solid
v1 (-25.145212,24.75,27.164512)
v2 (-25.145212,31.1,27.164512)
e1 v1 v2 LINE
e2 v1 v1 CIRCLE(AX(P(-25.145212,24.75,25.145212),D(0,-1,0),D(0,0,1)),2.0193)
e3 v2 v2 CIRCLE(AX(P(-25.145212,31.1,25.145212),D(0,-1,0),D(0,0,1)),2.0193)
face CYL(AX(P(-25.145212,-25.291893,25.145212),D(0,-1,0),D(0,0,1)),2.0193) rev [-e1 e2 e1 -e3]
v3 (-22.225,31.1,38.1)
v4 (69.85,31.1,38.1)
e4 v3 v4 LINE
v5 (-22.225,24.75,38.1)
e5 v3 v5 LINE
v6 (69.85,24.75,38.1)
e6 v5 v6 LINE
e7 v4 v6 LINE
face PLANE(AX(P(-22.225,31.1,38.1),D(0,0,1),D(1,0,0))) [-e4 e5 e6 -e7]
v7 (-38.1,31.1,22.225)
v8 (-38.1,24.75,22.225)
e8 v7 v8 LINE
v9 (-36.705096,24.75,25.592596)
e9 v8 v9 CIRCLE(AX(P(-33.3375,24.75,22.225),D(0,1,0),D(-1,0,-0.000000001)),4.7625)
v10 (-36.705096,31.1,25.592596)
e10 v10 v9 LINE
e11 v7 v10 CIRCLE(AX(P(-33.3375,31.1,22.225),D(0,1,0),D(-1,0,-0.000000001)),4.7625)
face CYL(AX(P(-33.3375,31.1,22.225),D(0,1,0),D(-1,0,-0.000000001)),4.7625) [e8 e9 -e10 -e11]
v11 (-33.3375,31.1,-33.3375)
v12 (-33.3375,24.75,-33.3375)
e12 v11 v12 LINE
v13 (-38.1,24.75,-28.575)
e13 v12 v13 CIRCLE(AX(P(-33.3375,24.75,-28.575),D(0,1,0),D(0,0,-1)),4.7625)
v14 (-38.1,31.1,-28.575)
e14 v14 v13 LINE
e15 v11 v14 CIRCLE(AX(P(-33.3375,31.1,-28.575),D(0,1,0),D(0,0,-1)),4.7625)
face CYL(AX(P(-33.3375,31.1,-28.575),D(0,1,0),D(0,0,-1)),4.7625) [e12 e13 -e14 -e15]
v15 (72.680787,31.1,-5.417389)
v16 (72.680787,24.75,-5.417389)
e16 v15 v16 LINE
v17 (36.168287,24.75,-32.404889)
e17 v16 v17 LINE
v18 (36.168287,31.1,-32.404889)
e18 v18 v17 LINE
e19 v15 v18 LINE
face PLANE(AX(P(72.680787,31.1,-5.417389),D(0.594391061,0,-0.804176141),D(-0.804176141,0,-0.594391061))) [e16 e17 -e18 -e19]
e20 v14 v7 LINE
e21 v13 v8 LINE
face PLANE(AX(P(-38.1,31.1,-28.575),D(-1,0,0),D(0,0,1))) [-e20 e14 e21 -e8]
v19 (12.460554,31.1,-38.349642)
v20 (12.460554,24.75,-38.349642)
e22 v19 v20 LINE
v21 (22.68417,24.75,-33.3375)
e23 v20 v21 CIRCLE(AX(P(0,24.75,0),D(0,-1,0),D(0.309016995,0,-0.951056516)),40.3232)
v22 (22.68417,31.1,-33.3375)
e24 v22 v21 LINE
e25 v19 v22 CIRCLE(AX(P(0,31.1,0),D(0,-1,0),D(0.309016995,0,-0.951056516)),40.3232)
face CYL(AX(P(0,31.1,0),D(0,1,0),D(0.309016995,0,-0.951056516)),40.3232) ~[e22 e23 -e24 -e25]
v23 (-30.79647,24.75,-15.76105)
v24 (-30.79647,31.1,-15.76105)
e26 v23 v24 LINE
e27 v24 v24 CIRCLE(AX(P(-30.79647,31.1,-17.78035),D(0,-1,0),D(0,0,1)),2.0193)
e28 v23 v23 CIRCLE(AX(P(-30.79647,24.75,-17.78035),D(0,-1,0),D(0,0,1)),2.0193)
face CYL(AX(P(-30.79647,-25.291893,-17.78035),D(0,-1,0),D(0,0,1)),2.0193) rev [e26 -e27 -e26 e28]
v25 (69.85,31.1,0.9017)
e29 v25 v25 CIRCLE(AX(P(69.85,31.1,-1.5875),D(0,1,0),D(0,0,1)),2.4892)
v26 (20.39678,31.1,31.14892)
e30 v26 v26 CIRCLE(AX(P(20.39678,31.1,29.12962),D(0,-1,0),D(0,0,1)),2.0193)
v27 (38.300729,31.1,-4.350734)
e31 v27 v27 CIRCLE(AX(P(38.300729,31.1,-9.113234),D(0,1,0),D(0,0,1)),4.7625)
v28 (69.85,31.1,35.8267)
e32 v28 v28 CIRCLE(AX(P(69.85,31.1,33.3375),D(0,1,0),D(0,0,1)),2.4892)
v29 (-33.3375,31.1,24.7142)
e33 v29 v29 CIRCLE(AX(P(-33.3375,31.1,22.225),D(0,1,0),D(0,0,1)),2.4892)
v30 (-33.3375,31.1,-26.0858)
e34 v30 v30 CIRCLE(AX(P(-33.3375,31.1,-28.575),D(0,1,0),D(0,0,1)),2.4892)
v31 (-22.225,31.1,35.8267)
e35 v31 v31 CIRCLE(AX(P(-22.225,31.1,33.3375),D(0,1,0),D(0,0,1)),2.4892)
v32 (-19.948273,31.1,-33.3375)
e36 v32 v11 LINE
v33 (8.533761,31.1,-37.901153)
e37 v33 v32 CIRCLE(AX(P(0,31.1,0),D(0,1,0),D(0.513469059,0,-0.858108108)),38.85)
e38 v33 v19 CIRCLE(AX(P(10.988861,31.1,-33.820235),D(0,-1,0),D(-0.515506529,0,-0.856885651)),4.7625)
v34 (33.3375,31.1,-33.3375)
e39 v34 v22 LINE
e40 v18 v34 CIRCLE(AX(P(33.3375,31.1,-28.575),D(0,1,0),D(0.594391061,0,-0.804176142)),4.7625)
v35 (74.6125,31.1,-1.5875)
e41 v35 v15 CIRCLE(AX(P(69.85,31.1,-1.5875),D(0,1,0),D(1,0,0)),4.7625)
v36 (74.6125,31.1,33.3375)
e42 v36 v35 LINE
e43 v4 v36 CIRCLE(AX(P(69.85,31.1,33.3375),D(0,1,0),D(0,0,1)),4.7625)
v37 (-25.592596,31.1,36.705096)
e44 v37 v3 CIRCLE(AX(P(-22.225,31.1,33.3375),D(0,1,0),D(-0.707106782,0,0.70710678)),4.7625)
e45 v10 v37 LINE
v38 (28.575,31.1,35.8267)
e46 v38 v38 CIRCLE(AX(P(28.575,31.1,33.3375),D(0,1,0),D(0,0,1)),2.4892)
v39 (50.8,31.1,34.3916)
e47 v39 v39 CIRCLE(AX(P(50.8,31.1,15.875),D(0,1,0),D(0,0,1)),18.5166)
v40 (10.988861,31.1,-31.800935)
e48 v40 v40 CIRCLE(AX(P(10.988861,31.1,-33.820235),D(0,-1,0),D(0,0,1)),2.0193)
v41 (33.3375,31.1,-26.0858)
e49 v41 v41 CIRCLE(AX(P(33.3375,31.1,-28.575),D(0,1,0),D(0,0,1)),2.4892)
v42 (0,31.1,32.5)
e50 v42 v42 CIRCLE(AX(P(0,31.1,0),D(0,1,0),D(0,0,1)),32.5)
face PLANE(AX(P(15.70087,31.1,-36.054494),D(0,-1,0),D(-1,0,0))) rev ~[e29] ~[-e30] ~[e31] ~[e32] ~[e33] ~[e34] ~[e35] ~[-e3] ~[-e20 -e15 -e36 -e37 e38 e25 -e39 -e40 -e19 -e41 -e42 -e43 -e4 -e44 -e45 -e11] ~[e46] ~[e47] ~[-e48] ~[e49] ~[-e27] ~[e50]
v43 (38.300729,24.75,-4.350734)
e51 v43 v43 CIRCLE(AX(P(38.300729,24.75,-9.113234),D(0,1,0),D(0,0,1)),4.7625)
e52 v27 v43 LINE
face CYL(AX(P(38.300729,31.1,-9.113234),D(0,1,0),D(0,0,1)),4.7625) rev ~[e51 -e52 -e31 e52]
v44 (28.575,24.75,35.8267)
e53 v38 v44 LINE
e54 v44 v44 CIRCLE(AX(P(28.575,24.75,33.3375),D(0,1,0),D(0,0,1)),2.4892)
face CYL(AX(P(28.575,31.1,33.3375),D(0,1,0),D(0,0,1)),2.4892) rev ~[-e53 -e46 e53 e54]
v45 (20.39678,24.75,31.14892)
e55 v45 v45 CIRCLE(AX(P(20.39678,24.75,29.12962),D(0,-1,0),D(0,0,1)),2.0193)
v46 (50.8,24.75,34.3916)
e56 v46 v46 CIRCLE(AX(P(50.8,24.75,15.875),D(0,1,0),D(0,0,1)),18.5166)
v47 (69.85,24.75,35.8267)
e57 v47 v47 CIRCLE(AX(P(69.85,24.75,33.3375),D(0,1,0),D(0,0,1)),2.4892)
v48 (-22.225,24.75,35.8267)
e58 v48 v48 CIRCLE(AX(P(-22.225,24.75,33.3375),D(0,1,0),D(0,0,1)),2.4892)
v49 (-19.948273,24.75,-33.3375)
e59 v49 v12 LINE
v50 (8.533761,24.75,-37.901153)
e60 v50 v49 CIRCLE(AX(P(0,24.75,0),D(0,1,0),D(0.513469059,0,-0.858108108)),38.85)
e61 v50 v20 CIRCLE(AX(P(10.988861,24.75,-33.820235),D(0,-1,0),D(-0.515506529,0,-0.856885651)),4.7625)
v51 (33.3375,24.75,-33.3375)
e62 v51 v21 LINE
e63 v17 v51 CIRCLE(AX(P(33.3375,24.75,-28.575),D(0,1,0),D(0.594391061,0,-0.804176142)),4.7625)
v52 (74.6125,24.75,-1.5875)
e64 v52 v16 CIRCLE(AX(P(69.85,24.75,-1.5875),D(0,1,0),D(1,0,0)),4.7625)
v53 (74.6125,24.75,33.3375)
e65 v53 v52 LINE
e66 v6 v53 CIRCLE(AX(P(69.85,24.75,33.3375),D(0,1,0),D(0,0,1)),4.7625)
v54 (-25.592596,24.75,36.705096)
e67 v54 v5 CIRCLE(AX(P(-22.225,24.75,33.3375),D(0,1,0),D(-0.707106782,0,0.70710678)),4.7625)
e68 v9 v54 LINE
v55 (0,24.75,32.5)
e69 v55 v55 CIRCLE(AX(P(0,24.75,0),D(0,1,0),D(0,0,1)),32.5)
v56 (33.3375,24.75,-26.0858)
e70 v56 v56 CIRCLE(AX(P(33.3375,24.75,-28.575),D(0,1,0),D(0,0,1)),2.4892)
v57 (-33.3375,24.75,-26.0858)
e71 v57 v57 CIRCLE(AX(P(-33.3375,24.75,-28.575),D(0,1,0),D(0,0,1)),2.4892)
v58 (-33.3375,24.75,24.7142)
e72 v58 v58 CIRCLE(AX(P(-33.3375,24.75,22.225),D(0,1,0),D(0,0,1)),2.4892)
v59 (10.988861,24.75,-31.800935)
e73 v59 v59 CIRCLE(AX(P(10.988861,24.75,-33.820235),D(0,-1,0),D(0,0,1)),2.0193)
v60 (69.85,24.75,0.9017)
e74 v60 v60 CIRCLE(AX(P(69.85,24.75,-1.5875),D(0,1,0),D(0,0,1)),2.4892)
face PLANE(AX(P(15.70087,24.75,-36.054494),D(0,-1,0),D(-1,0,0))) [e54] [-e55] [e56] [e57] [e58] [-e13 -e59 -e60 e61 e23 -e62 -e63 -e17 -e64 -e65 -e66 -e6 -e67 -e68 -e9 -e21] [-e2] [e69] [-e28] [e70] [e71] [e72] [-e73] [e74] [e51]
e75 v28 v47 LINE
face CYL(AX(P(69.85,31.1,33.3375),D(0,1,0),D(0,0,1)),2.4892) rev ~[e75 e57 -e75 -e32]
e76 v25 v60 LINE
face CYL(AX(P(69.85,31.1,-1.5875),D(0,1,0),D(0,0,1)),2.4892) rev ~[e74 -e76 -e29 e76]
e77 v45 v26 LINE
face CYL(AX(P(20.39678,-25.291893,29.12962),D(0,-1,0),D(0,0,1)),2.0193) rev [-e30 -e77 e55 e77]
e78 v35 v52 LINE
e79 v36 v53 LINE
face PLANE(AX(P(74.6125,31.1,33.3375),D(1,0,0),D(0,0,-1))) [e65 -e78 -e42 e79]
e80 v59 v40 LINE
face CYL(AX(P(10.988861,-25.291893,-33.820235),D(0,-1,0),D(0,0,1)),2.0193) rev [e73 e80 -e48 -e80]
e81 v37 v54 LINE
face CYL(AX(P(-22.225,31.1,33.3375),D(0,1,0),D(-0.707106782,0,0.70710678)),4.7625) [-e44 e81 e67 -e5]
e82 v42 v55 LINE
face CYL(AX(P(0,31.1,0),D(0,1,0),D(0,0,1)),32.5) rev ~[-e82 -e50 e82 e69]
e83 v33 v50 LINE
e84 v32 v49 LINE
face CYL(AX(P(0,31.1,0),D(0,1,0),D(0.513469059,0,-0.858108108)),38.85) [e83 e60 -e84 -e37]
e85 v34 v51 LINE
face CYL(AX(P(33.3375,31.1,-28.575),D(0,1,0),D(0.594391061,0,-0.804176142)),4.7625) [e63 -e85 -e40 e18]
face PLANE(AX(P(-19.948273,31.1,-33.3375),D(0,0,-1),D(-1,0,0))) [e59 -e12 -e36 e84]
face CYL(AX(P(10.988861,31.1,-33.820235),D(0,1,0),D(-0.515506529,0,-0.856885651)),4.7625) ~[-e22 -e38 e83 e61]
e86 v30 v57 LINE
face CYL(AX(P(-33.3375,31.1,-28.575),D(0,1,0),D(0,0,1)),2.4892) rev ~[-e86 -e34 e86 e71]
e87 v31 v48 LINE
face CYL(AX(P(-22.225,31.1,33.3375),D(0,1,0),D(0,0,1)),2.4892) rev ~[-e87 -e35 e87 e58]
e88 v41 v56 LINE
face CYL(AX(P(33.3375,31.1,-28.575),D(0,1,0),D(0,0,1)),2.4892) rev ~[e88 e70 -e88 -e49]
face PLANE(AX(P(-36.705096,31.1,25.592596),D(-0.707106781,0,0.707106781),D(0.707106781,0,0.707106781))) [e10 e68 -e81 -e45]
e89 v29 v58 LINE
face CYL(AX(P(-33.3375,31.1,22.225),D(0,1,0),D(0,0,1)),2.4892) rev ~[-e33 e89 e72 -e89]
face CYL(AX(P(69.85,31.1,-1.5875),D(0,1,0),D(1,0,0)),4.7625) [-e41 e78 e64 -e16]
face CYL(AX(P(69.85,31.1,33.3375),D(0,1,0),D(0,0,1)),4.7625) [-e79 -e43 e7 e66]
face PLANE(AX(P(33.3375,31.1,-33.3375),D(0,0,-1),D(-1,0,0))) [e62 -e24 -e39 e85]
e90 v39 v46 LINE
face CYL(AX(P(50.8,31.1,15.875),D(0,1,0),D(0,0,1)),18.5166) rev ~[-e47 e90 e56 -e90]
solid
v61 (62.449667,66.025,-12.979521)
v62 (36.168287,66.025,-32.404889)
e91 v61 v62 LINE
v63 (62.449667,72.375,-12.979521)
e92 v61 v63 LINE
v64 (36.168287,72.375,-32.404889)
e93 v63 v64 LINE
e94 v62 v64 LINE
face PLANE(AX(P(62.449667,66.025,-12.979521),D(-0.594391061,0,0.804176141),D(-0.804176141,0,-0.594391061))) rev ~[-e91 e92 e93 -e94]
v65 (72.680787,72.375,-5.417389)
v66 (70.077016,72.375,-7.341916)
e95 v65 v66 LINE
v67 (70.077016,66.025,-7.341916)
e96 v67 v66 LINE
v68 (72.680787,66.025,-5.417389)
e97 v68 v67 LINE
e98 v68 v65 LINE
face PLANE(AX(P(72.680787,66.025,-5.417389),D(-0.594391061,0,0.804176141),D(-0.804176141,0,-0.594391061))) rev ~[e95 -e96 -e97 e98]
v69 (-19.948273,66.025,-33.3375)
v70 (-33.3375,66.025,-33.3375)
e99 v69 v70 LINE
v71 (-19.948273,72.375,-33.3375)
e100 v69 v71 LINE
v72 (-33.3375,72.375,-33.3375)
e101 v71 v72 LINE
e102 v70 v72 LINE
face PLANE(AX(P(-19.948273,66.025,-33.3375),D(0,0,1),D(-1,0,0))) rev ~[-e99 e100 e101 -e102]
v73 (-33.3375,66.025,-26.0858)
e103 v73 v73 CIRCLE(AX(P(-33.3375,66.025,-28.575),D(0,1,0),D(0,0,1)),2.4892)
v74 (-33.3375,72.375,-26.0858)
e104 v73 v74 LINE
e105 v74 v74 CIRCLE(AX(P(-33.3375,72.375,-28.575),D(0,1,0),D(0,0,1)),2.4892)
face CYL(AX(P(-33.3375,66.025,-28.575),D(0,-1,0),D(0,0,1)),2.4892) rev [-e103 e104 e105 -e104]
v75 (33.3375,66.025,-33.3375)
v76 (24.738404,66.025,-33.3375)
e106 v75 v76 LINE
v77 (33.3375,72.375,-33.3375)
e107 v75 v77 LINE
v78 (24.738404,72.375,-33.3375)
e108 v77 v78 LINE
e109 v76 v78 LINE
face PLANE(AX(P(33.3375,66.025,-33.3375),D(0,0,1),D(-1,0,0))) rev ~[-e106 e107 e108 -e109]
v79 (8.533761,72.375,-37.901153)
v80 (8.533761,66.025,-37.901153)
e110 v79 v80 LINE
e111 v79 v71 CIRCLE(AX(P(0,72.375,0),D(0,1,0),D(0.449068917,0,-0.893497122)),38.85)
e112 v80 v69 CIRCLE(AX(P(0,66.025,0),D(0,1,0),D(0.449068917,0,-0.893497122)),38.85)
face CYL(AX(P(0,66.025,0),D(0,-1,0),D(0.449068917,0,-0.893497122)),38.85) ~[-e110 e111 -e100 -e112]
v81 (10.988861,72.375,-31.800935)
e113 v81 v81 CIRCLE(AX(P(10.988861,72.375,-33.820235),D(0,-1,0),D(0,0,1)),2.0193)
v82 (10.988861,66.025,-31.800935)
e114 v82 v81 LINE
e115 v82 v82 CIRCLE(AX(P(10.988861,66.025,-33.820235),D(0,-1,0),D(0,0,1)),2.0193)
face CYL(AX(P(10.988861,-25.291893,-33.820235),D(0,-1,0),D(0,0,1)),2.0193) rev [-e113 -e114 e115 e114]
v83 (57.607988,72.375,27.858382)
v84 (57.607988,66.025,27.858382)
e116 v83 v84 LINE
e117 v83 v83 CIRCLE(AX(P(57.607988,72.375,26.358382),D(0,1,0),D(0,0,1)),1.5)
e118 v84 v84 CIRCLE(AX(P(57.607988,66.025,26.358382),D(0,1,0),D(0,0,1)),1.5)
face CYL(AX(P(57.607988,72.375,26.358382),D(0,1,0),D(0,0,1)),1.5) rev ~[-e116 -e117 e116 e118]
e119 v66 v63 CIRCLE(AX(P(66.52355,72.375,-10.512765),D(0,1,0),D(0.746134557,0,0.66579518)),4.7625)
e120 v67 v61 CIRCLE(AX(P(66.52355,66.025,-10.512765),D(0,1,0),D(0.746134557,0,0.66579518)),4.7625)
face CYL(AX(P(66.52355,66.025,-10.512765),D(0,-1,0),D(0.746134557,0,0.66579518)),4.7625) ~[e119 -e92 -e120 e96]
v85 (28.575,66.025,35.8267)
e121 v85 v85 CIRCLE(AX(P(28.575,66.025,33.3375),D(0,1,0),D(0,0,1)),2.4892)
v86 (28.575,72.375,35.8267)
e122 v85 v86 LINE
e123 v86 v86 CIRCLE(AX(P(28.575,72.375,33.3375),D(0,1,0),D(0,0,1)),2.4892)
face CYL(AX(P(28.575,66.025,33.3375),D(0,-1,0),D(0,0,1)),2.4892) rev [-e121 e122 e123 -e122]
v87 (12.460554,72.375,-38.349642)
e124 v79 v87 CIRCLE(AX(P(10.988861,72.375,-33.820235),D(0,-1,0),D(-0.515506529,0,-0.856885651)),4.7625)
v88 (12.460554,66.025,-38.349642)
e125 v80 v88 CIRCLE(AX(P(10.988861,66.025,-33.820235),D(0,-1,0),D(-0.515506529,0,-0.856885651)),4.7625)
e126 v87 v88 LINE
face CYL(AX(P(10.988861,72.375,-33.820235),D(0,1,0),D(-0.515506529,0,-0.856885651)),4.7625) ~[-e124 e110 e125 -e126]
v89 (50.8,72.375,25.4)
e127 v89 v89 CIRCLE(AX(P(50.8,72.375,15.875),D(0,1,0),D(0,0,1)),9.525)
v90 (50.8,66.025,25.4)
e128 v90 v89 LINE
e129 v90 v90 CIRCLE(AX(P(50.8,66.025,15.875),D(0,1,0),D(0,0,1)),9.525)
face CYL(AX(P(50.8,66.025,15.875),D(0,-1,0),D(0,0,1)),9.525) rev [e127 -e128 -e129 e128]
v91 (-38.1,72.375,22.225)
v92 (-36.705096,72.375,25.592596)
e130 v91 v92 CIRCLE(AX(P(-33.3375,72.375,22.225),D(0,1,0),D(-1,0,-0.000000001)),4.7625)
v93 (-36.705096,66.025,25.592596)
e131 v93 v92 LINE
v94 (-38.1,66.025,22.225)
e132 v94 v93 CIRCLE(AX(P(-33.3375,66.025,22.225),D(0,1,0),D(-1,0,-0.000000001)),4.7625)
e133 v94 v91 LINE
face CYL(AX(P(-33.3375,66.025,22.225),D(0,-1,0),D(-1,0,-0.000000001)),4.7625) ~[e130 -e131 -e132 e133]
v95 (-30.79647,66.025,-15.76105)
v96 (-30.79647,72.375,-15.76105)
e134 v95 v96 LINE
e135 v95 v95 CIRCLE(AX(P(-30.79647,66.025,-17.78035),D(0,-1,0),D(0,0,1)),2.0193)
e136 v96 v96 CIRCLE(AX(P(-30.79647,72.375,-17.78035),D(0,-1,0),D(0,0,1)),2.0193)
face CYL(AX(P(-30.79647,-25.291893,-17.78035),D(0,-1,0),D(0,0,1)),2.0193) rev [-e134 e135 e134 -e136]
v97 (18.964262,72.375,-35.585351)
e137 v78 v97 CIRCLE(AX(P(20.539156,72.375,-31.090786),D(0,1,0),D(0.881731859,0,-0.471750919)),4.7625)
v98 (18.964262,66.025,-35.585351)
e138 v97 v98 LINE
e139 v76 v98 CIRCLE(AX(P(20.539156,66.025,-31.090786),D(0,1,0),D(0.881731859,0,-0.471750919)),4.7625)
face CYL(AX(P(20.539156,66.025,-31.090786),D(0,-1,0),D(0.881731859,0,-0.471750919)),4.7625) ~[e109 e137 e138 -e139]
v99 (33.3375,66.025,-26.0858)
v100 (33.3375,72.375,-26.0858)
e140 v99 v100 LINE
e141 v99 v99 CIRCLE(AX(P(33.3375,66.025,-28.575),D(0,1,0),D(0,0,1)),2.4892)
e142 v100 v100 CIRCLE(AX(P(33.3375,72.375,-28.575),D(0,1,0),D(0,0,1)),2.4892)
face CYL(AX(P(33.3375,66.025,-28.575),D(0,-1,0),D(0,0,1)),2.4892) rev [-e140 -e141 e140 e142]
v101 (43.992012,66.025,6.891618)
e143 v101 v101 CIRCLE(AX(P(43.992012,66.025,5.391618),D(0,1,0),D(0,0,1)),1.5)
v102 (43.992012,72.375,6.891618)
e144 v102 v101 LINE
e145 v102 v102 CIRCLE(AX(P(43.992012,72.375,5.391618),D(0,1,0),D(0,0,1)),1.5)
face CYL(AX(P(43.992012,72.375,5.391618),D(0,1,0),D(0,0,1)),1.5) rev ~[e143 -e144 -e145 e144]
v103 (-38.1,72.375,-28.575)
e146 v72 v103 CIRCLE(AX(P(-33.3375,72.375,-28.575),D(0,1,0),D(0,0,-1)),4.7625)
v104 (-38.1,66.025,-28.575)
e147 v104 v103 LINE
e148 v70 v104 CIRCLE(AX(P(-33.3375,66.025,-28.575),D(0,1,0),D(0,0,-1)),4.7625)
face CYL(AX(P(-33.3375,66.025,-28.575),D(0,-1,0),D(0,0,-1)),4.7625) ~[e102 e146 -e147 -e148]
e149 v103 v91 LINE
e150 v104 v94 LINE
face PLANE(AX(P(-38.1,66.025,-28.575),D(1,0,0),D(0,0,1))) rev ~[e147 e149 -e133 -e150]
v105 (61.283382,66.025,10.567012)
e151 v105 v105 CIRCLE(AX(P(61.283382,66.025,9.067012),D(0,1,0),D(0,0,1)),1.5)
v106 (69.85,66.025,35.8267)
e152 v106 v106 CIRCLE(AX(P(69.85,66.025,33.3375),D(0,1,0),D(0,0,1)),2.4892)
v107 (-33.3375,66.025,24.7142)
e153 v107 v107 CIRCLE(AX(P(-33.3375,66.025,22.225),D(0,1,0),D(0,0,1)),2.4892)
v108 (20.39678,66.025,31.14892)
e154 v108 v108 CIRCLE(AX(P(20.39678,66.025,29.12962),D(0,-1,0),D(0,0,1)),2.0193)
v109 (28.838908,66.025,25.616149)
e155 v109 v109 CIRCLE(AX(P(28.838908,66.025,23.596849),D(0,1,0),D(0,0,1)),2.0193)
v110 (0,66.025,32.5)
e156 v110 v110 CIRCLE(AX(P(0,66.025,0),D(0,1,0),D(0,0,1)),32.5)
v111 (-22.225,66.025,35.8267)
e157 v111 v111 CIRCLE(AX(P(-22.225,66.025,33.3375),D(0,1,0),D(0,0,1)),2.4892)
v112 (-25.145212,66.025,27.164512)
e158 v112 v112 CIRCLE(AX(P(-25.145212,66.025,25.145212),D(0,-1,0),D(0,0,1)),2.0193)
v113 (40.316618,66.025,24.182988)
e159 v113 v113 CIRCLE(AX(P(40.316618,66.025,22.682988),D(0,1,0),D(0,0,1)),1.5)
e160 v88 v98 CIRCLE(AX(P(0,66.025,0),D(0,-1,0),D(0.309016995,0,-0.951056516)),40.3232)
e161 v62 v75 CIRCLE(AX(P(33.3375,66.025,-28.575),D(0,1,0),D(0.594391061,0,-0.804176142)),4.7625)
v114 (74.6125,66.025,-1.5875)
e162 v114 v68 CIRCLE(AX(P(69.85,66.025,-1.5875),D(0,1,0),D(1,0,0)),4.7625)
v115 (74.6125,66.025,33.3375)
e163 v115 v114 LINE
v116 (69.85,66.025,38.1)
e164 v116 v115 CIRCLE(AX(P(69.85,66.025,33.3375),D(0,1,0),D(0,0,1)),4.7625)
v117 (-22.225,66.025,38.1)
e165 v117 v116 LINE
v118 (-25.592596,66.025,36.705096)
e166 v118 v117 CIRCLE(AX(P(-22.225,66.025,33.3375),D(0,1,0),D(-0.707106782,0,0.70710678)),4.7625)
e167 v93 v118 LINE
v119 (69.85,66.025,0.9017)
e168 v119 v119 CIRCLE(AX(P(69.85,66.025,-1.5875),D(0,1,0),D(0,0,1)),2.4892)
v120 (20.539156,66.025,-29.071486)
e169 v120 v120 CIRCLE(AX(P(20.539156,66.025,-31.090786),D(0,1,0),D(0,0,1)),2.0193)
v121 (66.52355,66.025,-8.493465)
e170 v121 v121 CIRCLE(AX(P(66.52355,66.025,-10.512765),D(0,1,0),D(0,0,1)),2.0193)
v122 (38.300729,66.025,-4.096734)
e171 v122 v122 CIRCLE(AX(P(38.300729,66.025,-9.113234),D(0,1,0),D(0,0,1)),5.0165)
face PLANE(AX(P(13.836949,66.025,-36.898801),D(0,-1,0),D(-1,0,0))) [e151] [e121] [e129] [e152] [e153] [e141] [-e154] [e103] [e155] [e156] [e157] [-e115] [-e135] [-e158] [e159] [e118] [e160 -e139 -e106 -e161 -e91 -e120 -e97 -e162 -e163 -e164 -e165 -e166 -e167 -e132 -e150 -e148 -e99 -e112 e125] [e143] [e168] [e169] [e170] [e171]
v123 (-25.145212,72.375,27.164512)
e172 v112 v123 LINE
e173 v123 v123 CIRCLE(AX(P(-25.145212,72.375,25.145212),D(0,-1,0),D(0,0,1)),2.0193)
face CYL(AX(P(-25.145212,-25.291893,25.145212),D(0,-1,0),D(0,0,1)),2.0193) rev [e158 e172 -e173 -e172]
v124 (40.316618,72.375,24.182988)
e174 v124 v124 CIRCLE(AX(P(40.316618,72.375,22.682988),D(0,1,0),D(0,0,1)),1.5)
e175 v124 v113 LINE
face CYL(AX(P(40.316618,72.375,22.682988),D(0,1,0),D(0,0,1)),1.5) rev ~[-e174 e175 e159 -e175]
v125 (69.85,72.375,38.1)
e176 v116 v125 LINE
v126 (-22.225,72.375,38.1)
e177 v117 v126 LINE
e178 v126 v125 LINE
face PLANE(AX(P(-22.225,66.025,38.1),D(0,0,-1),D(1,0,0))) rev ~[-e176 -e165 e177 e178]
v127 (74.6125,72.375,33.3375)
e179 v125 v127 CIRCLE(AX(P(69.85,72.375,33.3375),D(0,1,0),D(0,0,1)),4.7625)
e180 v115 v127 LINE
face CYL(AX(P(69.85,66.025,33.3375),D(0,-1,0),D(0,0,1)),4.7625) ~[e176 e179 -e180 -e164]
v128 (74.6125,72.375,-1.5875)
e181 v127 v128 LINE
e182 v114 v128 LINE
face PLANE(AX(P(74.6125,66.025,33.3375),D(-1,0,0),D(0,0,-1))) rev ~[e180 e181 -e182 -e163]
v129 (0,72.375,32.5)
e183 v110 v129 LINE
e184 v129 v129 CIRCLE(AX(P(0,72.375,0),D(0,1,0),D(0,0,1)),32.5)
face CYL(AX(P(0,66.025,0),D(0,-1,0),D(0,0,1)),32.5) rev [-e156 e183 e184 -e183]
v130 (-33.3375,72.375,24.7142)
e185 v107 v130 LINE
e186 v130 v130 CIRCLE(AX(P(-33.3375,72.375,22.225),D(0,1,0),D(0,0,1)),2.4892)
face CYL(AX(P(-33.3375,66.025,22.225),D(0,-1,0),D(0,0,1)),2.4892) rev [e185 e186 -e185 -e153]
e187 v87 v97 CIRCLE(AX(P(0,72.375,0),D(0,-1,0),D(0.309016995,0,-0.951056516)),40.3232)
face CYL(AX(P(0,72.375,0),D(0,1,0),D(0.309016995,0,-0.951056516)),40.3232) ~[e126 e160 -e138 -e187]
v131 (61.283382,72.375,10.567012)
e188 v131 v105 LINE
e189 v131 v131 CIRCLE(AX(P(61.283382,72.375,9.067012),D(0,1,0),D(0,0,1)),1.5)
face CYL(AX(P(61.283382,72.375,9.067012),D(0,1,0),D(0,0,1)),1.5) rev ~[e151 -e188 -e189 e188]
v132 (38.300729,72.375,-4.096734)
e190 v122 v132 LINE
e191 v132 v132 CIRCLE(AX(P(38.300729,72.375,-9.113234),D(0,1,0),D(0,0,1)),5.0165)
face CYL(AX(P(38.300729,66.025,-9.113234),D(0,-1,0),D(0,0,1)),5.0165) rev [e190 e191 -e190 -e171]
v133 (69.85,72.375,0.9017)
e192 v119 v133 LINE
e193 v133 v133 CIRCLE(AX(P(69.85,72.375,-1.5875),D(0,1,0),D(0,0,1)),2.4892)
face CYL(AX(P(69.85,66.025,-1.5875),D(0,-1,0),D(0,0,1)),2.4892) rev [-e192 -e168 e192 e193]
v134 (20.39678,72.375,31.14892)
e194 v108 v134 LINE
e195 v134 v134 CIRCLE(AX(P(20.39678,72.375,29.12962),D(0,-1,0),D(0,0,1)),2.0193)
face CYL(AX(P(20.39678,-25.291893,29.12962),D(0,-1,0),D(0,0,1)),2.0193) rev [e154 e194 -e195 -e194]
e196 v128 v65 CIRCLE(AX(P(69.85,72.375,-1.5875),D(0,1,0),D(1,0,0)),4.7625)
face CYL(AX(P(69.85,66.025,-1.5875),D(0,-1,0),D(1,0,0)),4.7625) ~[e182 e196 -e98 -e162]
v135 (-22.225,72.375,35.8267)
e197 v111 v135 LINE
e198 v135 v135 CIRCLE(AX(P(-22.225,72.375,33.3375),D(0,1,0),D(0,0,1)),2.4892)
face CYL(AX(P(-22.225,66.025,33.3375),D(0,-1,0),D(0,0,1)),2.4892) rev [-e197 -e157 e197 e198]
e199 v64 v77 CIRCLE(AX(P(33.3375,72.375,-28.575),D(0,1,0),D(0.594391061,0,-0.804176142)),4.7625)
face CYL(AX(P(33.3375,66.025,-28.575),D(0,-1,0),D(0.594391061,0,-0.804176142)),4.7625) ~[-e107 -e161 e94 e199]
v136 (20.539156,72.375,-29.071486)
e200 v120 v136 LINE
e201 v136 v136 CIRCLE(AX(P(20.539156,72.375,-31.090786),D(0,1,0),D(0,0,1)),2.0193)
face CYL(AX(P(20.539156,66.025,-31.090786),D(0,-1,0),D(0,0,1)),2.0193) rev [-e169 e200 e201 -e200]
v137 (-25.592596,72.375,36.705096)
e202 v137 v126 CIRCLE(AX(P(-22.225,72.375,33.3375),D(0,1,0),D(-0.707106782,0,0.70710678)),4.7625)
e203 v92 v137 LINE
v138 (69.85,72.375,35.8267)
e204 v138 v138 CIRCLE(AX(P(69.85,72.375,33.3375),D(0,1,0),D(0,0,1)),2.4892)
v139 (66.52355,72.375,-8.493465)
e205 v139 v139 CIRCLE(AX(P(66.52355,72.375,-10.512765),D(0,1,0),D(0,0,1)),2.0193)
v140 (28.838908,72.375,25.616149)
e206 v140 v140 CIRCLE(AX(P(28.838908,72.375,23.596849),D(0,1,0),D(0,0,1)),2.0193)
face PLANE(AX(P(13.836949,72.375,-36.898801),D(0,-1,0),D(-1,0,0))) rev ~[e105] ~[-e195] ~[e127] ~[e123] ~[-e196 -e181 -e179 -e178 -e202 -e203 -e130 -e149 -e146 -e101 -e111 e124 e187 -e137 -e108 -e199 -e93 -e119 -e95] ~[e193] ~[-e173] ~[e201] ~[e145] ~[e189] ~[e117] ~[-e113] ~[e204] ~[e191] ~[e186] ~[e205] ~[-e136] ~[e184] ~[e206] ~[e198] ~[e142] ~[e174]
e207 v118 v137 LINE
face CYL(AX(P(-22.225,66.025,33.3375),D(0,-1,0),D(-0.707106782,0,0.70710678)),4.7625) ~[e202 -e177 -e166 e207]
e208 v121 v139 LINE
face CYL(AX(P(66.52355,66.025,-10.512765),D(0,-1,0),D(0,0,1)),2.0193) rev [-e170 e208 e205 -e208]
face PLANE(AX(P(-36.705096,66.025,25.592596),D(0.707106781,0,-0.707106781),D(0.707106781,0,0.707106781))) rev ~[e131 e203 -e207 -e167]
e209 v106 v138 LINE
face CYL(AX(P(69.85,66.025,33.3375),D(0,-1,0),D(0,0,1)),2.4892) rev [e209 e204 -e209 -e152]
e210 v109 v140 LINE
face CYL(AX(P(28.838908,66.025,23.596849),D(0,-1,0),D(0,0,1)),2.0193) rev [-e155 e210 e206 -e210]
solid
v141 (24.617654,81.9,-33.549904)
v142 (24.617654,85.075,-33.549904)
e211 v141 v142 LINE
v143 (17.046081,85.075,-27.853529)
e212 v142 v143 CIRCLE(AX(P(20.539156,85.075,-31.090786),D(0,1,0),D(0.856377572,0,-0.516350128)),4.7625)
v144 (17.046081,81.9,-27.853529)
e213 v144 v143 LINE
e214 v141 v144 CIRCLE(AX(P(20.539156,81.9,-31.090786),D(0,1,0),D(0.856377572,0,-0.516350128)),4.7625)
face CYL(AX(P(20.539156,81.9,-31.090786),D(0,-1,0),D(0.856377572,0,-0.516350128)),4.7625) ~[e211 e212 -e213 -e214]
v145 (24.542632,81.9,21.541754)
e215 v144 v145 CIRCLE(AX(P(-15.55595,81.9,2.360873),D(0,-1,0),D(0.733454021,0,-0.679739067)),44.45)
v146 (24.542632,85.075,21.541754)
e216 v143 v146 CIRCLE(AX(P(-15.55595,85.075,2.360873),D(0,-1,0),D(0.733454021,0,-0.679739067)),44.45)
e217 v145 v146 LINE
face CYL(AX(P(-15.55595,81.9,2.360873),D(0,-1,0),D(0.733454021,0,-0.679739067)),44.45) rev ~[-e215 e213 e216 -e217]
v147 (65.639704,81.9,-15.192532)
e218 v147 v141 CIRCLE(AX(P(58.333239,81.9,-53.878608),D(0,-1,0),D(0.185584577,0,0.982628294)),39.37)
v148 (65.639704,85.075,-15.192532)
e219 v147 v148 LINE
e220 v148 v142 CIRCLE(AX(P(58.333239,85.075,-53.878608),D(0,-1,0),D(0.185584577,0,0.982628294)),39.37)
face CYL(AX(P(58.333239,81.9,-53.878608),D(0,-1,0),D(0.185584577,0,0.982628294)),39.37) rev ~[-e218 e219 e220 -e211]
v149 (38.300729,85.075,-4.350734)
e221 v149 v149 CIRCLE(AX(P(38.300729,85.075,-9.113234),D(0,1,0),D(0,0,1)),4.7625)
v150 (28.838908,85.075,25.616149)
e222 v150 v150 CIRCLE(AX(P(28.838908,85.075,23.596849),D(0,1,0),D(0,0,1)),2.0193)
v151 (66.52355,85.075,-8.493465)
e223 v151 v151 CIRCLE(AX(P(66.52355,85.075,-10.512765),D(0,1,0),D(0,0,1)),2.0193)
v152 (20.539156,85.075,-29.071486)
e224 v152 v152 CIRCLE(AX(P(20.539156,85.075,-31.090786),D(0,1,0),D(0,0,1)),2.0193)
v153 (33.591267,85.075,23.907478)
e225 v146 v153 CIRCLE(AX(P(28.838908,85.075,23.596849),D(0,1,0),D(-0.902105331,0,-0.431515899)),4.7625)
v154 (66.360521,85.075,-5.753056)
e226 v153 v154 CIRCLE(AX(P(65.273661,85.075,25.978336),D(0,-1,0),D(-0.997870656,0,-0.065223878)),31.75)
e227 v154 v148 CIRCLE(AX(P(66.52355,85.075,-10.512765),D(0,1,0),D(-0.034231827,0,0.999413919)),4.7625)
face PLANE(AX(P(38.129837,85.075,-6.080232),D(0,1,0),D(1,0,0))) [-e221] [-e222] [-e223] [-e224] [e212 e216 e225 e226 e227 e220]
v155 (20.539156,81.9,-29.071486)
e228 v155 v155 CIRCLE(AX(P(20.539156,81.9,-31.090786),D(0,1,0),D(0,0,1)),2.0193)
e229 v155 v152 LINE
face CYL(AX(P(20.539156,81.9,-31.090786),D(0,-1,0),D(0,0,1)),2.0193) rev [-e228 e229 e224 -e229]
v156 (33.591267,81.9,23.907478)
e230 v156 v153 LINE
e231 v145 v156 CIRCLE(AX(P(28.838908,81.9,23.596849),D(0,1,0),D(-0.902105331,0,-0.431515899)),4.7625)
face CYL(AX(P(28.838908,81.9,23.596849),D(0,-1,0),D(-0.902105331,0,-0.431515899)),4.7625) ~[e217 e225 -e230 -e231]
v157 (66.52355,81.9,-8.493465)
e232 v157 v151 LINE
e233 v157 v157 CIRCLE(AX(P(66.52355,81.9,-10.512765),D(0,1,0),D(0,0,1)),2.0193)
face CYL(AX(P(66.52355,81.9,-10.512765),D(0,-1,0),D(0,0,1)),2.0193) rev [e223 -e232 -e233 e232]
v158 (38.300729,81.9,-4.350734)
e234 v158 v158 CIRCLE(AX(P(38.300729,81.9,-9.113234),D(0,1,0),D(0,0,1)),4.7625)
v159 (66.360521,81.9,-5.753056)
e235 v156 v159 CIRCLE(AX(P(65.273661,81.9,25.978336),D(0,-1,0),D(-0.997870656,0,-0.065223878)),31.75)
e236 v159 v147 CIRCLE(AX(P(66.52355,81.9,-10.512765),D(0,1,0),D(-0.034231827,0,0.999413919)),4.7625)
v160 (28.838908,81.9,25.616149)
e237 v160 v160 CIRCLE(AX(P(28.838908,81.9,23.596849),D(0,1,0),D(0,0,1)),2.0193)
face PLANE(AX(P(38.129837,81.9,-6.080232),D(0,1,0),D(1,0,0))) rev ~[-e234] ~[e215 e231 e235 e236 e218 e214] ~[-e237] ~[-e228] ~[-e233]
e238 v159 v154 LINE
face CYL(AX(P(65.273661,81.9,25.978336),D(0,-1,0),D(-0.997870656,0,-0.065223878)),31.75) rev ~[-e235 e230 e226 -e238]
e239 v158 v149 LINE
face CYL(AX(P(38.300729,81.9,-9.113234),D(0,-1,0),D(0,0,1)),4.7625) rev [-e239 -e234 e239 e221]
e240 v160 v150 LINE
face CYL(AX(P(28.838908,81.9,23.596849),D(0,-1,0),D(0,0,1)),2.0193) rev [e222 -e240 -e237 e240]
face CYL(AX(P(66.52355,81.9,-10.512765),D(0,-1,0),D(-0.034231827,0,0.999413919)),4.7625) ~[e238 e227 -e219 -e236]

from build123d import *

# Parameters (mm, degrees)
SKETCH3_R               = 32.5
SKETCH3_R_2             = 2.4892
SKETCH3_R_3             = 18.5166
SKETCH3_R_4             = 4.7625
BOSS_EXTRUDE1_DEPTH     = 6.35
SKETCH4_R               = 2.4892
SKETCH4_R_2             = 5.0165
SKETCH4_R_3             = 9.525
SKETCH4_R_4             = 32.5
SKETCH4_R_5             = 2.0193
BOSS_EXTRUDE2_DEPTH     = 6.35
SKETCH6_R               = 4.7625
SKETCH6_R_2             = 2.0193
BOSS_EXTRUDE3_DEPTH     = 3.175
SKETCH8_R               = 1.5
CUT_EXTRUDE1_DEPTH      = 97.666893408
CUT_EXTRUDE2_DEPTH      = 97.666893408
CUT_EXTRUDE2_DEPTH_BACK = 97.666893408
SKETCH9_R               = 2.0193
BOSS_EXTRUDE4_DEPTH     = 6.35
BOSS_EXTRUDE5_DEPTH     = 6.35


with BuildPart() as part:
    # Sketch3 → Boss-Extrude1 (new body)
    with BuildSketch(Plane(origin=(0, 31.1, 0), x_dir=(1, 0, 0), z_dir=(0, 1, 0))):
        with BuildLine():
            Line((-38.1, 28.575), (-38.1, -22.225))
            ThreePointArc((-38.1, -22.225), (-37.737476274, -24.047529847), (-36.705096045, -25.592596045))
            Line((-36.705096045, -25.592596045), (-25.592596045, -36.705096045))
            ThreePointArc((-25.592596045, -36.705096045), (-24.047529847, -37.737476274), (-22.225, -38.1))
            Line((-22.225, -38.1), (69.85, -38.1))
            ThreePointArc((69.85, -38.1), (73.217596045, -36.705096045), (74.6125, -33.3375))
            Line((74.6125, -33.3375), (74.6125, 1.5875))
            ThreePointArc((74.6125, 1.5875), (74.102236551, 3.732235546), (72.680787428, 5.417388874))
            Line((72.680787428, 5.417388874), (36.168287428, 32.404888874))
            ThreePointArc((36.168287428, 32.404888874), (34.827728252, 33.098342349), (33.3375, 33.3375))
            Line((33.3375, 33.3375), (19.948272952, 33.3375))
            ThreePointArc((19.948272952, 33.3375), (0, 38.85), (-19.948272952, 33.3375))
            Line((-19.948272952, 33.3375), (-33.3375, 33.3375))
            ThreePointArc((-33.3375, 33.3375), (-36.705096045, 31.942596045), (-38.1, 28.575))
        make_face()
        with Locations(Location((0, 0, 0), (0, 0, 270))):
            Circle(SKETCH3_R, mode=Mode.SUBTRACT)
        with Locations(Location((-33.3375, 28.575, 0), (0, 0, 270))):
            Circle(SKETCH3_R_2, mode=Mode.SUBTRACT)
        with Locations(Location((-33.3375, -22.225, 0), (0, 0, 270))):
            Circle(SKETCH3_R_2, mode=Mode.SUBTRACT)
        with Locations(Location((-22.225, -33.3375, 0), (0, 0, 270))):
            Circle(SKETCH3_R_2, mode=Mode.SUBTRACT)
        with Locations(Location((28.575, -33.3375, 0), (0, 0, 270))):
            Circle(SKETCH3_R_2, mode=Mode.SUBTRACT)
        with Locations(Location((50.8, -15.875, 0), (0, 0, 270))):
            Circle(SKETCH3_R_3, mode=Mode.SUBTRACT)
        with Locations(Location((38.300729341, 9.113233891, 0), (0, 0, 270))):
            Circle(SKETCH3_R_4, mode=Mode.SUBTRACT)
        with Locations(Location((69.85, -33.3375, 0), (0, 0, 270))):
            Circle(SKETCH3_R_2, mode=Mode.SUBTRACT)
        with Locations(Location((69.85, 1.5875, 0), (0, 0, 270))):
            Circle(SKETCH3_R_2, mode=Mode.SUBTRACT)
        with Locations(Location((33.3375, 28.575, 0), (0, 0, 270))):
            Circle(SKETCH3_R_2, mode=Mode.SUBTRACT)
    extrude(amount=-BOSS_EXTRUDE1_DEPTH)


with BuildPart() as body_2:
    # Sketch4 → Boss-Extrude2 (new body)
    with BuildSketch(Plane(origin=(0, 66.025, 0), x_dir=(1, 0, 0), z_dir=(0, 1, 0))):
        with BuildLine():
            Line((62.449667408, 12.979521063), (36.168287428, 32.404888874))
            ThreePointArc((36.168287428, 32.404888874), (34.827728252, 33.098342349), (33.3375, 33.3375))
            Line((33.3375, 33.3375), (24.73840367, 33.3375))
            ThreePointArc((24.73840367, 33.3375), (21.42154073, 35.770829295), (17.446327433, 34.712363202))
            ThreePointArc((17.446327433, 34.712363202), (-1.427408509, 38.823768557), (-19.948272952, 33.3375))
            Line((-19.948272952, 33.3375), (-33.3375, 33.3375))
            ThreePointArc((-33.3375, 33.3375), (-36.705096045, 31.942596045), (-38.1, 28.575))
            Line((-38.1, 28.575), (-38.1, -22.225))
            ThreePointArc((-38.1, -22.225), (-37.737476274, -24.047529847), (-36.705096045, -25.592596045))
            Line((-36.705096045, -25.592596045), (-25.592596045, -36.705096045))
            ThreePointArc((-25.592596045, -36.705096045), (-24.047529847, -37.737476274), (-22.225, -38.1))
            Line((-22.225, -38.1), (69.85, -38.1))
            ThreePointArc((69.85, -38.1), (73.217596045, -36.705096045), (74.6125, -33.3375))
            Line((74.6125, -33.3375), (74.6125, 1.5875))
            ThreePointArc((74.6125, 1.5875), (74.102236551, 3.732235546), (72.680787428, 5.417388874))
            Line((72.680787428, 5.417388874), (70.077016055, 7.341915541))
            ThreePointArc((70.077016055, 7.341915541), (69.354337654, 14.342653962), (62.449667408, 12.979521063))
        make_face()
        with Locations(Location((33.3375, 28.575, 0), (0, 0, 270))):
            Circle(SKETCH4_R, mode=Mode.SUBTRACT)
        with Locations(Location((69.85, 1.5875, 0), (0, 0, 270))):
            Circle(SKETCH4_R, mode=Mode.SUBTRACT)
        with Locations(Location((69.85, -33.3375, 0), (0, 0, 270))):
            Circle(SKETCH4_R, mode=Mode.SUBTRACT)
        with Locations(Location((28.575, -33.3375, 0), (0, 0, 270))):
            Circle(SKETCH4_R, mode=Mode.SUBTRACT)
        with Locations(Location((-22.225, -33.3375, 0), (0, 0, 270))):
            Circle(SKETCH4_R, mode=Mode.SUBTRACT)
        with Locations(Location((-33.3375, -22.225, 0), (0, 0, 270))):
            Circle(SKETCH4_R, mode=Mode.SUBTRACT)
        with Locations(Location((-33.3375, 28.575, 0), (0, 0, 270))):
            Circle(SKETCH4_R, mode=Mode.SUBTRACT)
        with Locations(Location((38.300729341, 9.113233891, 0), (0, 0, 270))):
            Circle(SKETCH4_R_2, mode=Mode.SUBTRACT)
        with Locations(Location((50.8, -15.875, 0), (0, 0, 270))):
            Circle(SKETCH4_R_3, mode=Mode.SUBTRACT)
        with Locations(Location((0, 0, 0), (0, 0, 270))):
            Circle(SKETCH4_R_4, mode=Mode.SUBTRACT)
        with Locations(Location((20.539155692, 31.090786251, 0), (0, 0, 270))):
            Circle(SKETCH4_R_5, mode=Mode.SUBTRACT)
        with Locations(Location((66.523550225, 10.512765088, 0), (0, 0, 270))):
            Circle(SKETCH4_R_5, mode=Mode.SUBTRACT)
        with Locations(Location((28.838908317, -23.596848801, 0), (0, 0, 270))):
            Circle(SKETCH4_R_5, mode=Mode.SUBTRACT)
    extrude(amount=BOSS_EXTRUDE2_DEPTH)

    # Sketch8 → Cut-Extrude1 (cut, through all)
    with BuildSketch(Plane(origin=(0, 72.375, 0), x_dir=(1, 0, 0), z_dir=(0, 1, 0))):
        with Locations(Location((43.992012062, -5.391617901, 0), (0, 0, 270))):
            Circle(SKETCH8_R)
        with Locations(Location((61.283382099, -9.067012062, 0), (0, 0, 270))):
            Circle(SKETCH8_R)
        with Locations(Location((57.607987938, -26.358382099, 0), (0, 0, 270))):
            Circle(SKETCH8_R)
        with Locations(Location((40.316617901, -22.682987938, 0), (0, 0, 270))):
            Circle(SKETCH8_R)
    extrude(amount=-CUT_EXTRUDE1_DEPTH, mode=Mode.SUBTRACT)


with BuildPart() as body_3:
    # Sketch6 → Boss-Extrude3 (new body)
    with BuildSketch(Plane(origin=(0, 81.9, 0), x_dir=(1, 0, 0), z_dir=(0, 1, 0))):
        with BuildLine():
            ThreePointArc((24.617653876, 33.549903737), (17.675966632, 34.896512813), (17.046080919, 27.853528943))
            ThreePointArc((17.046080919, 27.853528943), (28.390816273, 4.30877568), (24.542631677, -21.54175433))
            ThreePointArc((24.542631677, -21.54175433), (27.634265494, -28.204477466), (33.591267315, -23.907477519))
            ThreePointArc((33.591267315, -23.907477519), (43.967359373, -2.438921321), (66.360521149, 5.753056298))
            ThreePointArc((66.360521149, 5.753056298), (71.272225212, 10.87538351), (65.639703676, 15.19253234))
            ThreePointArc((65.639703676, 15.19253234), (42.251924296, 17.942717846), (24.617653876, 33.549903737))
        make_face()
        with Locations(Location((38.300729341, 9.113233891, 0), (0, 0, 270))):
            Circle(SKETCH6_R, mode=Mode.SUBTRACT)
        with Locations(Location((28.838908317, -23.596848801, 0), (0, 0, 270))):
            Circle(SKETCH6_R_2, mode=Mode.SUBTRACT)
        with Locations(Location((66.523550225, 10.512765088, 0), (0, 0, 270))):
            Circle(SKETCH6_R_2, mode=Mode.SUBTRACT)
        with Locations(Location((20.539155692, 31.090786251, 0), (0, 0, 270))):
            Circle(SKETCH6_R_2, mode=Mode.SUBTRACT)
    extrude(amount=BOSS_EXTRUDE3_DEPTH)


with BuildPart() as cut_extrude2_tool:
    # Sketch9 → Cut-Extrude2 (new, two sides: drawn at the far end of the back side and taken through both)
    with BuildSketch(Plane(origin=(0, 72.375, 0), x_dir=(1, 0, 0), z_dir=(0, 1, 0)).offset(-CUT_EXTRUDE2_DEPTH_BACK)):
        with Locations(Location((-25.145212114, -25.145212114, 0), (0, 0, 270))):
            Circle(SKETCH9_R)
        with Locations(Location((20.39677958, -29.129620101, 0), (0, 0, 270))):
            Circle(SKETCH9_R)
        with Locations(Location((-30.796469576, 17.78035, 0), (0, 0, 270))):
            Circle(SKETCH9_R)
        with Locations(Location((10.988860632, 33.820235459, 0), (0, 0, 270))):
            Circle(SKETCH9_R)
    extrude(amount=CUT_EXTRUDE2_DEPTH + CUT_EXTRUDE2_DEPTH_BACK)


with BuildPart() as part_1:
    add(part.part)

    # Cut-Extrude2: cut by cut_extrude2_tool
    add(cut_extrude2_tool.part, mode=Mode.SUBTRACT)

    # Sketch11 → Boss-Extrude5 (add)
    with BuildSketch(Plane(origin=(0, 31.1, 0), x_dir=(1, 0, 0), z_dir=(0, 1, 0))):
        with BuildLine():
            Line((22.684169634, 33.3375), (19.948272952, 33.3375))
            ThreePointArc((19.948272952, 33.3375), (14.422665998, 36.0736636), (8.533760787, 37.901153371))
            ThreePointArc((8.533760787, 37.901153371), (10.448437112, 38.5519739), (12.460554068, 38.349642118))
            ThreePointArc((12.460554068, 38.349642118), (17.750163187, 36.206244835), (22.684169634, 33.3375))
        make_face()
    extrude(amount=-BOSS_EXTRUDE5_DEPTH)


with BuildPart() as body_2_1:
    add(body_2.part)

    # Cut-Extrude2: cut by cut_extrude2_tool
    add(cut_extrude2_tool.part, mode=Mode.SUBTRACT)

    # Sketch10 → Boss-Extrude4 (add)
    with BuildSketch(Plane(origin=(0, 72.375, 0), x_dir=(1, 0, 0), z_dir=(0, 1, 0))):
        with BuildLine():
            ThreePointArc((8.533760787, 37.901153371), (10.448437112, 38.5519739), (12.460554068, 38.349642118))
            ThreePointArc((12.460554068, 38.349642118), (15.77308116, 37.110246145), (18.964261824, 35.585351364))
            ThreePointArc((18.964261824, 35.585351364), (18.164827461, 35.219220786), (17.446327433, 34.712363202))
            ThreePointArc((17.446327433, 34.712363202), (13.087526186, 36.579217574), (8.533760787, 37.901153371))
        make_face()
    extrude(amount=-BOSS_EXTRUDE4_DEPTH)


solid = Compound([body_3.part, part_1.part, body_2_1.part])
